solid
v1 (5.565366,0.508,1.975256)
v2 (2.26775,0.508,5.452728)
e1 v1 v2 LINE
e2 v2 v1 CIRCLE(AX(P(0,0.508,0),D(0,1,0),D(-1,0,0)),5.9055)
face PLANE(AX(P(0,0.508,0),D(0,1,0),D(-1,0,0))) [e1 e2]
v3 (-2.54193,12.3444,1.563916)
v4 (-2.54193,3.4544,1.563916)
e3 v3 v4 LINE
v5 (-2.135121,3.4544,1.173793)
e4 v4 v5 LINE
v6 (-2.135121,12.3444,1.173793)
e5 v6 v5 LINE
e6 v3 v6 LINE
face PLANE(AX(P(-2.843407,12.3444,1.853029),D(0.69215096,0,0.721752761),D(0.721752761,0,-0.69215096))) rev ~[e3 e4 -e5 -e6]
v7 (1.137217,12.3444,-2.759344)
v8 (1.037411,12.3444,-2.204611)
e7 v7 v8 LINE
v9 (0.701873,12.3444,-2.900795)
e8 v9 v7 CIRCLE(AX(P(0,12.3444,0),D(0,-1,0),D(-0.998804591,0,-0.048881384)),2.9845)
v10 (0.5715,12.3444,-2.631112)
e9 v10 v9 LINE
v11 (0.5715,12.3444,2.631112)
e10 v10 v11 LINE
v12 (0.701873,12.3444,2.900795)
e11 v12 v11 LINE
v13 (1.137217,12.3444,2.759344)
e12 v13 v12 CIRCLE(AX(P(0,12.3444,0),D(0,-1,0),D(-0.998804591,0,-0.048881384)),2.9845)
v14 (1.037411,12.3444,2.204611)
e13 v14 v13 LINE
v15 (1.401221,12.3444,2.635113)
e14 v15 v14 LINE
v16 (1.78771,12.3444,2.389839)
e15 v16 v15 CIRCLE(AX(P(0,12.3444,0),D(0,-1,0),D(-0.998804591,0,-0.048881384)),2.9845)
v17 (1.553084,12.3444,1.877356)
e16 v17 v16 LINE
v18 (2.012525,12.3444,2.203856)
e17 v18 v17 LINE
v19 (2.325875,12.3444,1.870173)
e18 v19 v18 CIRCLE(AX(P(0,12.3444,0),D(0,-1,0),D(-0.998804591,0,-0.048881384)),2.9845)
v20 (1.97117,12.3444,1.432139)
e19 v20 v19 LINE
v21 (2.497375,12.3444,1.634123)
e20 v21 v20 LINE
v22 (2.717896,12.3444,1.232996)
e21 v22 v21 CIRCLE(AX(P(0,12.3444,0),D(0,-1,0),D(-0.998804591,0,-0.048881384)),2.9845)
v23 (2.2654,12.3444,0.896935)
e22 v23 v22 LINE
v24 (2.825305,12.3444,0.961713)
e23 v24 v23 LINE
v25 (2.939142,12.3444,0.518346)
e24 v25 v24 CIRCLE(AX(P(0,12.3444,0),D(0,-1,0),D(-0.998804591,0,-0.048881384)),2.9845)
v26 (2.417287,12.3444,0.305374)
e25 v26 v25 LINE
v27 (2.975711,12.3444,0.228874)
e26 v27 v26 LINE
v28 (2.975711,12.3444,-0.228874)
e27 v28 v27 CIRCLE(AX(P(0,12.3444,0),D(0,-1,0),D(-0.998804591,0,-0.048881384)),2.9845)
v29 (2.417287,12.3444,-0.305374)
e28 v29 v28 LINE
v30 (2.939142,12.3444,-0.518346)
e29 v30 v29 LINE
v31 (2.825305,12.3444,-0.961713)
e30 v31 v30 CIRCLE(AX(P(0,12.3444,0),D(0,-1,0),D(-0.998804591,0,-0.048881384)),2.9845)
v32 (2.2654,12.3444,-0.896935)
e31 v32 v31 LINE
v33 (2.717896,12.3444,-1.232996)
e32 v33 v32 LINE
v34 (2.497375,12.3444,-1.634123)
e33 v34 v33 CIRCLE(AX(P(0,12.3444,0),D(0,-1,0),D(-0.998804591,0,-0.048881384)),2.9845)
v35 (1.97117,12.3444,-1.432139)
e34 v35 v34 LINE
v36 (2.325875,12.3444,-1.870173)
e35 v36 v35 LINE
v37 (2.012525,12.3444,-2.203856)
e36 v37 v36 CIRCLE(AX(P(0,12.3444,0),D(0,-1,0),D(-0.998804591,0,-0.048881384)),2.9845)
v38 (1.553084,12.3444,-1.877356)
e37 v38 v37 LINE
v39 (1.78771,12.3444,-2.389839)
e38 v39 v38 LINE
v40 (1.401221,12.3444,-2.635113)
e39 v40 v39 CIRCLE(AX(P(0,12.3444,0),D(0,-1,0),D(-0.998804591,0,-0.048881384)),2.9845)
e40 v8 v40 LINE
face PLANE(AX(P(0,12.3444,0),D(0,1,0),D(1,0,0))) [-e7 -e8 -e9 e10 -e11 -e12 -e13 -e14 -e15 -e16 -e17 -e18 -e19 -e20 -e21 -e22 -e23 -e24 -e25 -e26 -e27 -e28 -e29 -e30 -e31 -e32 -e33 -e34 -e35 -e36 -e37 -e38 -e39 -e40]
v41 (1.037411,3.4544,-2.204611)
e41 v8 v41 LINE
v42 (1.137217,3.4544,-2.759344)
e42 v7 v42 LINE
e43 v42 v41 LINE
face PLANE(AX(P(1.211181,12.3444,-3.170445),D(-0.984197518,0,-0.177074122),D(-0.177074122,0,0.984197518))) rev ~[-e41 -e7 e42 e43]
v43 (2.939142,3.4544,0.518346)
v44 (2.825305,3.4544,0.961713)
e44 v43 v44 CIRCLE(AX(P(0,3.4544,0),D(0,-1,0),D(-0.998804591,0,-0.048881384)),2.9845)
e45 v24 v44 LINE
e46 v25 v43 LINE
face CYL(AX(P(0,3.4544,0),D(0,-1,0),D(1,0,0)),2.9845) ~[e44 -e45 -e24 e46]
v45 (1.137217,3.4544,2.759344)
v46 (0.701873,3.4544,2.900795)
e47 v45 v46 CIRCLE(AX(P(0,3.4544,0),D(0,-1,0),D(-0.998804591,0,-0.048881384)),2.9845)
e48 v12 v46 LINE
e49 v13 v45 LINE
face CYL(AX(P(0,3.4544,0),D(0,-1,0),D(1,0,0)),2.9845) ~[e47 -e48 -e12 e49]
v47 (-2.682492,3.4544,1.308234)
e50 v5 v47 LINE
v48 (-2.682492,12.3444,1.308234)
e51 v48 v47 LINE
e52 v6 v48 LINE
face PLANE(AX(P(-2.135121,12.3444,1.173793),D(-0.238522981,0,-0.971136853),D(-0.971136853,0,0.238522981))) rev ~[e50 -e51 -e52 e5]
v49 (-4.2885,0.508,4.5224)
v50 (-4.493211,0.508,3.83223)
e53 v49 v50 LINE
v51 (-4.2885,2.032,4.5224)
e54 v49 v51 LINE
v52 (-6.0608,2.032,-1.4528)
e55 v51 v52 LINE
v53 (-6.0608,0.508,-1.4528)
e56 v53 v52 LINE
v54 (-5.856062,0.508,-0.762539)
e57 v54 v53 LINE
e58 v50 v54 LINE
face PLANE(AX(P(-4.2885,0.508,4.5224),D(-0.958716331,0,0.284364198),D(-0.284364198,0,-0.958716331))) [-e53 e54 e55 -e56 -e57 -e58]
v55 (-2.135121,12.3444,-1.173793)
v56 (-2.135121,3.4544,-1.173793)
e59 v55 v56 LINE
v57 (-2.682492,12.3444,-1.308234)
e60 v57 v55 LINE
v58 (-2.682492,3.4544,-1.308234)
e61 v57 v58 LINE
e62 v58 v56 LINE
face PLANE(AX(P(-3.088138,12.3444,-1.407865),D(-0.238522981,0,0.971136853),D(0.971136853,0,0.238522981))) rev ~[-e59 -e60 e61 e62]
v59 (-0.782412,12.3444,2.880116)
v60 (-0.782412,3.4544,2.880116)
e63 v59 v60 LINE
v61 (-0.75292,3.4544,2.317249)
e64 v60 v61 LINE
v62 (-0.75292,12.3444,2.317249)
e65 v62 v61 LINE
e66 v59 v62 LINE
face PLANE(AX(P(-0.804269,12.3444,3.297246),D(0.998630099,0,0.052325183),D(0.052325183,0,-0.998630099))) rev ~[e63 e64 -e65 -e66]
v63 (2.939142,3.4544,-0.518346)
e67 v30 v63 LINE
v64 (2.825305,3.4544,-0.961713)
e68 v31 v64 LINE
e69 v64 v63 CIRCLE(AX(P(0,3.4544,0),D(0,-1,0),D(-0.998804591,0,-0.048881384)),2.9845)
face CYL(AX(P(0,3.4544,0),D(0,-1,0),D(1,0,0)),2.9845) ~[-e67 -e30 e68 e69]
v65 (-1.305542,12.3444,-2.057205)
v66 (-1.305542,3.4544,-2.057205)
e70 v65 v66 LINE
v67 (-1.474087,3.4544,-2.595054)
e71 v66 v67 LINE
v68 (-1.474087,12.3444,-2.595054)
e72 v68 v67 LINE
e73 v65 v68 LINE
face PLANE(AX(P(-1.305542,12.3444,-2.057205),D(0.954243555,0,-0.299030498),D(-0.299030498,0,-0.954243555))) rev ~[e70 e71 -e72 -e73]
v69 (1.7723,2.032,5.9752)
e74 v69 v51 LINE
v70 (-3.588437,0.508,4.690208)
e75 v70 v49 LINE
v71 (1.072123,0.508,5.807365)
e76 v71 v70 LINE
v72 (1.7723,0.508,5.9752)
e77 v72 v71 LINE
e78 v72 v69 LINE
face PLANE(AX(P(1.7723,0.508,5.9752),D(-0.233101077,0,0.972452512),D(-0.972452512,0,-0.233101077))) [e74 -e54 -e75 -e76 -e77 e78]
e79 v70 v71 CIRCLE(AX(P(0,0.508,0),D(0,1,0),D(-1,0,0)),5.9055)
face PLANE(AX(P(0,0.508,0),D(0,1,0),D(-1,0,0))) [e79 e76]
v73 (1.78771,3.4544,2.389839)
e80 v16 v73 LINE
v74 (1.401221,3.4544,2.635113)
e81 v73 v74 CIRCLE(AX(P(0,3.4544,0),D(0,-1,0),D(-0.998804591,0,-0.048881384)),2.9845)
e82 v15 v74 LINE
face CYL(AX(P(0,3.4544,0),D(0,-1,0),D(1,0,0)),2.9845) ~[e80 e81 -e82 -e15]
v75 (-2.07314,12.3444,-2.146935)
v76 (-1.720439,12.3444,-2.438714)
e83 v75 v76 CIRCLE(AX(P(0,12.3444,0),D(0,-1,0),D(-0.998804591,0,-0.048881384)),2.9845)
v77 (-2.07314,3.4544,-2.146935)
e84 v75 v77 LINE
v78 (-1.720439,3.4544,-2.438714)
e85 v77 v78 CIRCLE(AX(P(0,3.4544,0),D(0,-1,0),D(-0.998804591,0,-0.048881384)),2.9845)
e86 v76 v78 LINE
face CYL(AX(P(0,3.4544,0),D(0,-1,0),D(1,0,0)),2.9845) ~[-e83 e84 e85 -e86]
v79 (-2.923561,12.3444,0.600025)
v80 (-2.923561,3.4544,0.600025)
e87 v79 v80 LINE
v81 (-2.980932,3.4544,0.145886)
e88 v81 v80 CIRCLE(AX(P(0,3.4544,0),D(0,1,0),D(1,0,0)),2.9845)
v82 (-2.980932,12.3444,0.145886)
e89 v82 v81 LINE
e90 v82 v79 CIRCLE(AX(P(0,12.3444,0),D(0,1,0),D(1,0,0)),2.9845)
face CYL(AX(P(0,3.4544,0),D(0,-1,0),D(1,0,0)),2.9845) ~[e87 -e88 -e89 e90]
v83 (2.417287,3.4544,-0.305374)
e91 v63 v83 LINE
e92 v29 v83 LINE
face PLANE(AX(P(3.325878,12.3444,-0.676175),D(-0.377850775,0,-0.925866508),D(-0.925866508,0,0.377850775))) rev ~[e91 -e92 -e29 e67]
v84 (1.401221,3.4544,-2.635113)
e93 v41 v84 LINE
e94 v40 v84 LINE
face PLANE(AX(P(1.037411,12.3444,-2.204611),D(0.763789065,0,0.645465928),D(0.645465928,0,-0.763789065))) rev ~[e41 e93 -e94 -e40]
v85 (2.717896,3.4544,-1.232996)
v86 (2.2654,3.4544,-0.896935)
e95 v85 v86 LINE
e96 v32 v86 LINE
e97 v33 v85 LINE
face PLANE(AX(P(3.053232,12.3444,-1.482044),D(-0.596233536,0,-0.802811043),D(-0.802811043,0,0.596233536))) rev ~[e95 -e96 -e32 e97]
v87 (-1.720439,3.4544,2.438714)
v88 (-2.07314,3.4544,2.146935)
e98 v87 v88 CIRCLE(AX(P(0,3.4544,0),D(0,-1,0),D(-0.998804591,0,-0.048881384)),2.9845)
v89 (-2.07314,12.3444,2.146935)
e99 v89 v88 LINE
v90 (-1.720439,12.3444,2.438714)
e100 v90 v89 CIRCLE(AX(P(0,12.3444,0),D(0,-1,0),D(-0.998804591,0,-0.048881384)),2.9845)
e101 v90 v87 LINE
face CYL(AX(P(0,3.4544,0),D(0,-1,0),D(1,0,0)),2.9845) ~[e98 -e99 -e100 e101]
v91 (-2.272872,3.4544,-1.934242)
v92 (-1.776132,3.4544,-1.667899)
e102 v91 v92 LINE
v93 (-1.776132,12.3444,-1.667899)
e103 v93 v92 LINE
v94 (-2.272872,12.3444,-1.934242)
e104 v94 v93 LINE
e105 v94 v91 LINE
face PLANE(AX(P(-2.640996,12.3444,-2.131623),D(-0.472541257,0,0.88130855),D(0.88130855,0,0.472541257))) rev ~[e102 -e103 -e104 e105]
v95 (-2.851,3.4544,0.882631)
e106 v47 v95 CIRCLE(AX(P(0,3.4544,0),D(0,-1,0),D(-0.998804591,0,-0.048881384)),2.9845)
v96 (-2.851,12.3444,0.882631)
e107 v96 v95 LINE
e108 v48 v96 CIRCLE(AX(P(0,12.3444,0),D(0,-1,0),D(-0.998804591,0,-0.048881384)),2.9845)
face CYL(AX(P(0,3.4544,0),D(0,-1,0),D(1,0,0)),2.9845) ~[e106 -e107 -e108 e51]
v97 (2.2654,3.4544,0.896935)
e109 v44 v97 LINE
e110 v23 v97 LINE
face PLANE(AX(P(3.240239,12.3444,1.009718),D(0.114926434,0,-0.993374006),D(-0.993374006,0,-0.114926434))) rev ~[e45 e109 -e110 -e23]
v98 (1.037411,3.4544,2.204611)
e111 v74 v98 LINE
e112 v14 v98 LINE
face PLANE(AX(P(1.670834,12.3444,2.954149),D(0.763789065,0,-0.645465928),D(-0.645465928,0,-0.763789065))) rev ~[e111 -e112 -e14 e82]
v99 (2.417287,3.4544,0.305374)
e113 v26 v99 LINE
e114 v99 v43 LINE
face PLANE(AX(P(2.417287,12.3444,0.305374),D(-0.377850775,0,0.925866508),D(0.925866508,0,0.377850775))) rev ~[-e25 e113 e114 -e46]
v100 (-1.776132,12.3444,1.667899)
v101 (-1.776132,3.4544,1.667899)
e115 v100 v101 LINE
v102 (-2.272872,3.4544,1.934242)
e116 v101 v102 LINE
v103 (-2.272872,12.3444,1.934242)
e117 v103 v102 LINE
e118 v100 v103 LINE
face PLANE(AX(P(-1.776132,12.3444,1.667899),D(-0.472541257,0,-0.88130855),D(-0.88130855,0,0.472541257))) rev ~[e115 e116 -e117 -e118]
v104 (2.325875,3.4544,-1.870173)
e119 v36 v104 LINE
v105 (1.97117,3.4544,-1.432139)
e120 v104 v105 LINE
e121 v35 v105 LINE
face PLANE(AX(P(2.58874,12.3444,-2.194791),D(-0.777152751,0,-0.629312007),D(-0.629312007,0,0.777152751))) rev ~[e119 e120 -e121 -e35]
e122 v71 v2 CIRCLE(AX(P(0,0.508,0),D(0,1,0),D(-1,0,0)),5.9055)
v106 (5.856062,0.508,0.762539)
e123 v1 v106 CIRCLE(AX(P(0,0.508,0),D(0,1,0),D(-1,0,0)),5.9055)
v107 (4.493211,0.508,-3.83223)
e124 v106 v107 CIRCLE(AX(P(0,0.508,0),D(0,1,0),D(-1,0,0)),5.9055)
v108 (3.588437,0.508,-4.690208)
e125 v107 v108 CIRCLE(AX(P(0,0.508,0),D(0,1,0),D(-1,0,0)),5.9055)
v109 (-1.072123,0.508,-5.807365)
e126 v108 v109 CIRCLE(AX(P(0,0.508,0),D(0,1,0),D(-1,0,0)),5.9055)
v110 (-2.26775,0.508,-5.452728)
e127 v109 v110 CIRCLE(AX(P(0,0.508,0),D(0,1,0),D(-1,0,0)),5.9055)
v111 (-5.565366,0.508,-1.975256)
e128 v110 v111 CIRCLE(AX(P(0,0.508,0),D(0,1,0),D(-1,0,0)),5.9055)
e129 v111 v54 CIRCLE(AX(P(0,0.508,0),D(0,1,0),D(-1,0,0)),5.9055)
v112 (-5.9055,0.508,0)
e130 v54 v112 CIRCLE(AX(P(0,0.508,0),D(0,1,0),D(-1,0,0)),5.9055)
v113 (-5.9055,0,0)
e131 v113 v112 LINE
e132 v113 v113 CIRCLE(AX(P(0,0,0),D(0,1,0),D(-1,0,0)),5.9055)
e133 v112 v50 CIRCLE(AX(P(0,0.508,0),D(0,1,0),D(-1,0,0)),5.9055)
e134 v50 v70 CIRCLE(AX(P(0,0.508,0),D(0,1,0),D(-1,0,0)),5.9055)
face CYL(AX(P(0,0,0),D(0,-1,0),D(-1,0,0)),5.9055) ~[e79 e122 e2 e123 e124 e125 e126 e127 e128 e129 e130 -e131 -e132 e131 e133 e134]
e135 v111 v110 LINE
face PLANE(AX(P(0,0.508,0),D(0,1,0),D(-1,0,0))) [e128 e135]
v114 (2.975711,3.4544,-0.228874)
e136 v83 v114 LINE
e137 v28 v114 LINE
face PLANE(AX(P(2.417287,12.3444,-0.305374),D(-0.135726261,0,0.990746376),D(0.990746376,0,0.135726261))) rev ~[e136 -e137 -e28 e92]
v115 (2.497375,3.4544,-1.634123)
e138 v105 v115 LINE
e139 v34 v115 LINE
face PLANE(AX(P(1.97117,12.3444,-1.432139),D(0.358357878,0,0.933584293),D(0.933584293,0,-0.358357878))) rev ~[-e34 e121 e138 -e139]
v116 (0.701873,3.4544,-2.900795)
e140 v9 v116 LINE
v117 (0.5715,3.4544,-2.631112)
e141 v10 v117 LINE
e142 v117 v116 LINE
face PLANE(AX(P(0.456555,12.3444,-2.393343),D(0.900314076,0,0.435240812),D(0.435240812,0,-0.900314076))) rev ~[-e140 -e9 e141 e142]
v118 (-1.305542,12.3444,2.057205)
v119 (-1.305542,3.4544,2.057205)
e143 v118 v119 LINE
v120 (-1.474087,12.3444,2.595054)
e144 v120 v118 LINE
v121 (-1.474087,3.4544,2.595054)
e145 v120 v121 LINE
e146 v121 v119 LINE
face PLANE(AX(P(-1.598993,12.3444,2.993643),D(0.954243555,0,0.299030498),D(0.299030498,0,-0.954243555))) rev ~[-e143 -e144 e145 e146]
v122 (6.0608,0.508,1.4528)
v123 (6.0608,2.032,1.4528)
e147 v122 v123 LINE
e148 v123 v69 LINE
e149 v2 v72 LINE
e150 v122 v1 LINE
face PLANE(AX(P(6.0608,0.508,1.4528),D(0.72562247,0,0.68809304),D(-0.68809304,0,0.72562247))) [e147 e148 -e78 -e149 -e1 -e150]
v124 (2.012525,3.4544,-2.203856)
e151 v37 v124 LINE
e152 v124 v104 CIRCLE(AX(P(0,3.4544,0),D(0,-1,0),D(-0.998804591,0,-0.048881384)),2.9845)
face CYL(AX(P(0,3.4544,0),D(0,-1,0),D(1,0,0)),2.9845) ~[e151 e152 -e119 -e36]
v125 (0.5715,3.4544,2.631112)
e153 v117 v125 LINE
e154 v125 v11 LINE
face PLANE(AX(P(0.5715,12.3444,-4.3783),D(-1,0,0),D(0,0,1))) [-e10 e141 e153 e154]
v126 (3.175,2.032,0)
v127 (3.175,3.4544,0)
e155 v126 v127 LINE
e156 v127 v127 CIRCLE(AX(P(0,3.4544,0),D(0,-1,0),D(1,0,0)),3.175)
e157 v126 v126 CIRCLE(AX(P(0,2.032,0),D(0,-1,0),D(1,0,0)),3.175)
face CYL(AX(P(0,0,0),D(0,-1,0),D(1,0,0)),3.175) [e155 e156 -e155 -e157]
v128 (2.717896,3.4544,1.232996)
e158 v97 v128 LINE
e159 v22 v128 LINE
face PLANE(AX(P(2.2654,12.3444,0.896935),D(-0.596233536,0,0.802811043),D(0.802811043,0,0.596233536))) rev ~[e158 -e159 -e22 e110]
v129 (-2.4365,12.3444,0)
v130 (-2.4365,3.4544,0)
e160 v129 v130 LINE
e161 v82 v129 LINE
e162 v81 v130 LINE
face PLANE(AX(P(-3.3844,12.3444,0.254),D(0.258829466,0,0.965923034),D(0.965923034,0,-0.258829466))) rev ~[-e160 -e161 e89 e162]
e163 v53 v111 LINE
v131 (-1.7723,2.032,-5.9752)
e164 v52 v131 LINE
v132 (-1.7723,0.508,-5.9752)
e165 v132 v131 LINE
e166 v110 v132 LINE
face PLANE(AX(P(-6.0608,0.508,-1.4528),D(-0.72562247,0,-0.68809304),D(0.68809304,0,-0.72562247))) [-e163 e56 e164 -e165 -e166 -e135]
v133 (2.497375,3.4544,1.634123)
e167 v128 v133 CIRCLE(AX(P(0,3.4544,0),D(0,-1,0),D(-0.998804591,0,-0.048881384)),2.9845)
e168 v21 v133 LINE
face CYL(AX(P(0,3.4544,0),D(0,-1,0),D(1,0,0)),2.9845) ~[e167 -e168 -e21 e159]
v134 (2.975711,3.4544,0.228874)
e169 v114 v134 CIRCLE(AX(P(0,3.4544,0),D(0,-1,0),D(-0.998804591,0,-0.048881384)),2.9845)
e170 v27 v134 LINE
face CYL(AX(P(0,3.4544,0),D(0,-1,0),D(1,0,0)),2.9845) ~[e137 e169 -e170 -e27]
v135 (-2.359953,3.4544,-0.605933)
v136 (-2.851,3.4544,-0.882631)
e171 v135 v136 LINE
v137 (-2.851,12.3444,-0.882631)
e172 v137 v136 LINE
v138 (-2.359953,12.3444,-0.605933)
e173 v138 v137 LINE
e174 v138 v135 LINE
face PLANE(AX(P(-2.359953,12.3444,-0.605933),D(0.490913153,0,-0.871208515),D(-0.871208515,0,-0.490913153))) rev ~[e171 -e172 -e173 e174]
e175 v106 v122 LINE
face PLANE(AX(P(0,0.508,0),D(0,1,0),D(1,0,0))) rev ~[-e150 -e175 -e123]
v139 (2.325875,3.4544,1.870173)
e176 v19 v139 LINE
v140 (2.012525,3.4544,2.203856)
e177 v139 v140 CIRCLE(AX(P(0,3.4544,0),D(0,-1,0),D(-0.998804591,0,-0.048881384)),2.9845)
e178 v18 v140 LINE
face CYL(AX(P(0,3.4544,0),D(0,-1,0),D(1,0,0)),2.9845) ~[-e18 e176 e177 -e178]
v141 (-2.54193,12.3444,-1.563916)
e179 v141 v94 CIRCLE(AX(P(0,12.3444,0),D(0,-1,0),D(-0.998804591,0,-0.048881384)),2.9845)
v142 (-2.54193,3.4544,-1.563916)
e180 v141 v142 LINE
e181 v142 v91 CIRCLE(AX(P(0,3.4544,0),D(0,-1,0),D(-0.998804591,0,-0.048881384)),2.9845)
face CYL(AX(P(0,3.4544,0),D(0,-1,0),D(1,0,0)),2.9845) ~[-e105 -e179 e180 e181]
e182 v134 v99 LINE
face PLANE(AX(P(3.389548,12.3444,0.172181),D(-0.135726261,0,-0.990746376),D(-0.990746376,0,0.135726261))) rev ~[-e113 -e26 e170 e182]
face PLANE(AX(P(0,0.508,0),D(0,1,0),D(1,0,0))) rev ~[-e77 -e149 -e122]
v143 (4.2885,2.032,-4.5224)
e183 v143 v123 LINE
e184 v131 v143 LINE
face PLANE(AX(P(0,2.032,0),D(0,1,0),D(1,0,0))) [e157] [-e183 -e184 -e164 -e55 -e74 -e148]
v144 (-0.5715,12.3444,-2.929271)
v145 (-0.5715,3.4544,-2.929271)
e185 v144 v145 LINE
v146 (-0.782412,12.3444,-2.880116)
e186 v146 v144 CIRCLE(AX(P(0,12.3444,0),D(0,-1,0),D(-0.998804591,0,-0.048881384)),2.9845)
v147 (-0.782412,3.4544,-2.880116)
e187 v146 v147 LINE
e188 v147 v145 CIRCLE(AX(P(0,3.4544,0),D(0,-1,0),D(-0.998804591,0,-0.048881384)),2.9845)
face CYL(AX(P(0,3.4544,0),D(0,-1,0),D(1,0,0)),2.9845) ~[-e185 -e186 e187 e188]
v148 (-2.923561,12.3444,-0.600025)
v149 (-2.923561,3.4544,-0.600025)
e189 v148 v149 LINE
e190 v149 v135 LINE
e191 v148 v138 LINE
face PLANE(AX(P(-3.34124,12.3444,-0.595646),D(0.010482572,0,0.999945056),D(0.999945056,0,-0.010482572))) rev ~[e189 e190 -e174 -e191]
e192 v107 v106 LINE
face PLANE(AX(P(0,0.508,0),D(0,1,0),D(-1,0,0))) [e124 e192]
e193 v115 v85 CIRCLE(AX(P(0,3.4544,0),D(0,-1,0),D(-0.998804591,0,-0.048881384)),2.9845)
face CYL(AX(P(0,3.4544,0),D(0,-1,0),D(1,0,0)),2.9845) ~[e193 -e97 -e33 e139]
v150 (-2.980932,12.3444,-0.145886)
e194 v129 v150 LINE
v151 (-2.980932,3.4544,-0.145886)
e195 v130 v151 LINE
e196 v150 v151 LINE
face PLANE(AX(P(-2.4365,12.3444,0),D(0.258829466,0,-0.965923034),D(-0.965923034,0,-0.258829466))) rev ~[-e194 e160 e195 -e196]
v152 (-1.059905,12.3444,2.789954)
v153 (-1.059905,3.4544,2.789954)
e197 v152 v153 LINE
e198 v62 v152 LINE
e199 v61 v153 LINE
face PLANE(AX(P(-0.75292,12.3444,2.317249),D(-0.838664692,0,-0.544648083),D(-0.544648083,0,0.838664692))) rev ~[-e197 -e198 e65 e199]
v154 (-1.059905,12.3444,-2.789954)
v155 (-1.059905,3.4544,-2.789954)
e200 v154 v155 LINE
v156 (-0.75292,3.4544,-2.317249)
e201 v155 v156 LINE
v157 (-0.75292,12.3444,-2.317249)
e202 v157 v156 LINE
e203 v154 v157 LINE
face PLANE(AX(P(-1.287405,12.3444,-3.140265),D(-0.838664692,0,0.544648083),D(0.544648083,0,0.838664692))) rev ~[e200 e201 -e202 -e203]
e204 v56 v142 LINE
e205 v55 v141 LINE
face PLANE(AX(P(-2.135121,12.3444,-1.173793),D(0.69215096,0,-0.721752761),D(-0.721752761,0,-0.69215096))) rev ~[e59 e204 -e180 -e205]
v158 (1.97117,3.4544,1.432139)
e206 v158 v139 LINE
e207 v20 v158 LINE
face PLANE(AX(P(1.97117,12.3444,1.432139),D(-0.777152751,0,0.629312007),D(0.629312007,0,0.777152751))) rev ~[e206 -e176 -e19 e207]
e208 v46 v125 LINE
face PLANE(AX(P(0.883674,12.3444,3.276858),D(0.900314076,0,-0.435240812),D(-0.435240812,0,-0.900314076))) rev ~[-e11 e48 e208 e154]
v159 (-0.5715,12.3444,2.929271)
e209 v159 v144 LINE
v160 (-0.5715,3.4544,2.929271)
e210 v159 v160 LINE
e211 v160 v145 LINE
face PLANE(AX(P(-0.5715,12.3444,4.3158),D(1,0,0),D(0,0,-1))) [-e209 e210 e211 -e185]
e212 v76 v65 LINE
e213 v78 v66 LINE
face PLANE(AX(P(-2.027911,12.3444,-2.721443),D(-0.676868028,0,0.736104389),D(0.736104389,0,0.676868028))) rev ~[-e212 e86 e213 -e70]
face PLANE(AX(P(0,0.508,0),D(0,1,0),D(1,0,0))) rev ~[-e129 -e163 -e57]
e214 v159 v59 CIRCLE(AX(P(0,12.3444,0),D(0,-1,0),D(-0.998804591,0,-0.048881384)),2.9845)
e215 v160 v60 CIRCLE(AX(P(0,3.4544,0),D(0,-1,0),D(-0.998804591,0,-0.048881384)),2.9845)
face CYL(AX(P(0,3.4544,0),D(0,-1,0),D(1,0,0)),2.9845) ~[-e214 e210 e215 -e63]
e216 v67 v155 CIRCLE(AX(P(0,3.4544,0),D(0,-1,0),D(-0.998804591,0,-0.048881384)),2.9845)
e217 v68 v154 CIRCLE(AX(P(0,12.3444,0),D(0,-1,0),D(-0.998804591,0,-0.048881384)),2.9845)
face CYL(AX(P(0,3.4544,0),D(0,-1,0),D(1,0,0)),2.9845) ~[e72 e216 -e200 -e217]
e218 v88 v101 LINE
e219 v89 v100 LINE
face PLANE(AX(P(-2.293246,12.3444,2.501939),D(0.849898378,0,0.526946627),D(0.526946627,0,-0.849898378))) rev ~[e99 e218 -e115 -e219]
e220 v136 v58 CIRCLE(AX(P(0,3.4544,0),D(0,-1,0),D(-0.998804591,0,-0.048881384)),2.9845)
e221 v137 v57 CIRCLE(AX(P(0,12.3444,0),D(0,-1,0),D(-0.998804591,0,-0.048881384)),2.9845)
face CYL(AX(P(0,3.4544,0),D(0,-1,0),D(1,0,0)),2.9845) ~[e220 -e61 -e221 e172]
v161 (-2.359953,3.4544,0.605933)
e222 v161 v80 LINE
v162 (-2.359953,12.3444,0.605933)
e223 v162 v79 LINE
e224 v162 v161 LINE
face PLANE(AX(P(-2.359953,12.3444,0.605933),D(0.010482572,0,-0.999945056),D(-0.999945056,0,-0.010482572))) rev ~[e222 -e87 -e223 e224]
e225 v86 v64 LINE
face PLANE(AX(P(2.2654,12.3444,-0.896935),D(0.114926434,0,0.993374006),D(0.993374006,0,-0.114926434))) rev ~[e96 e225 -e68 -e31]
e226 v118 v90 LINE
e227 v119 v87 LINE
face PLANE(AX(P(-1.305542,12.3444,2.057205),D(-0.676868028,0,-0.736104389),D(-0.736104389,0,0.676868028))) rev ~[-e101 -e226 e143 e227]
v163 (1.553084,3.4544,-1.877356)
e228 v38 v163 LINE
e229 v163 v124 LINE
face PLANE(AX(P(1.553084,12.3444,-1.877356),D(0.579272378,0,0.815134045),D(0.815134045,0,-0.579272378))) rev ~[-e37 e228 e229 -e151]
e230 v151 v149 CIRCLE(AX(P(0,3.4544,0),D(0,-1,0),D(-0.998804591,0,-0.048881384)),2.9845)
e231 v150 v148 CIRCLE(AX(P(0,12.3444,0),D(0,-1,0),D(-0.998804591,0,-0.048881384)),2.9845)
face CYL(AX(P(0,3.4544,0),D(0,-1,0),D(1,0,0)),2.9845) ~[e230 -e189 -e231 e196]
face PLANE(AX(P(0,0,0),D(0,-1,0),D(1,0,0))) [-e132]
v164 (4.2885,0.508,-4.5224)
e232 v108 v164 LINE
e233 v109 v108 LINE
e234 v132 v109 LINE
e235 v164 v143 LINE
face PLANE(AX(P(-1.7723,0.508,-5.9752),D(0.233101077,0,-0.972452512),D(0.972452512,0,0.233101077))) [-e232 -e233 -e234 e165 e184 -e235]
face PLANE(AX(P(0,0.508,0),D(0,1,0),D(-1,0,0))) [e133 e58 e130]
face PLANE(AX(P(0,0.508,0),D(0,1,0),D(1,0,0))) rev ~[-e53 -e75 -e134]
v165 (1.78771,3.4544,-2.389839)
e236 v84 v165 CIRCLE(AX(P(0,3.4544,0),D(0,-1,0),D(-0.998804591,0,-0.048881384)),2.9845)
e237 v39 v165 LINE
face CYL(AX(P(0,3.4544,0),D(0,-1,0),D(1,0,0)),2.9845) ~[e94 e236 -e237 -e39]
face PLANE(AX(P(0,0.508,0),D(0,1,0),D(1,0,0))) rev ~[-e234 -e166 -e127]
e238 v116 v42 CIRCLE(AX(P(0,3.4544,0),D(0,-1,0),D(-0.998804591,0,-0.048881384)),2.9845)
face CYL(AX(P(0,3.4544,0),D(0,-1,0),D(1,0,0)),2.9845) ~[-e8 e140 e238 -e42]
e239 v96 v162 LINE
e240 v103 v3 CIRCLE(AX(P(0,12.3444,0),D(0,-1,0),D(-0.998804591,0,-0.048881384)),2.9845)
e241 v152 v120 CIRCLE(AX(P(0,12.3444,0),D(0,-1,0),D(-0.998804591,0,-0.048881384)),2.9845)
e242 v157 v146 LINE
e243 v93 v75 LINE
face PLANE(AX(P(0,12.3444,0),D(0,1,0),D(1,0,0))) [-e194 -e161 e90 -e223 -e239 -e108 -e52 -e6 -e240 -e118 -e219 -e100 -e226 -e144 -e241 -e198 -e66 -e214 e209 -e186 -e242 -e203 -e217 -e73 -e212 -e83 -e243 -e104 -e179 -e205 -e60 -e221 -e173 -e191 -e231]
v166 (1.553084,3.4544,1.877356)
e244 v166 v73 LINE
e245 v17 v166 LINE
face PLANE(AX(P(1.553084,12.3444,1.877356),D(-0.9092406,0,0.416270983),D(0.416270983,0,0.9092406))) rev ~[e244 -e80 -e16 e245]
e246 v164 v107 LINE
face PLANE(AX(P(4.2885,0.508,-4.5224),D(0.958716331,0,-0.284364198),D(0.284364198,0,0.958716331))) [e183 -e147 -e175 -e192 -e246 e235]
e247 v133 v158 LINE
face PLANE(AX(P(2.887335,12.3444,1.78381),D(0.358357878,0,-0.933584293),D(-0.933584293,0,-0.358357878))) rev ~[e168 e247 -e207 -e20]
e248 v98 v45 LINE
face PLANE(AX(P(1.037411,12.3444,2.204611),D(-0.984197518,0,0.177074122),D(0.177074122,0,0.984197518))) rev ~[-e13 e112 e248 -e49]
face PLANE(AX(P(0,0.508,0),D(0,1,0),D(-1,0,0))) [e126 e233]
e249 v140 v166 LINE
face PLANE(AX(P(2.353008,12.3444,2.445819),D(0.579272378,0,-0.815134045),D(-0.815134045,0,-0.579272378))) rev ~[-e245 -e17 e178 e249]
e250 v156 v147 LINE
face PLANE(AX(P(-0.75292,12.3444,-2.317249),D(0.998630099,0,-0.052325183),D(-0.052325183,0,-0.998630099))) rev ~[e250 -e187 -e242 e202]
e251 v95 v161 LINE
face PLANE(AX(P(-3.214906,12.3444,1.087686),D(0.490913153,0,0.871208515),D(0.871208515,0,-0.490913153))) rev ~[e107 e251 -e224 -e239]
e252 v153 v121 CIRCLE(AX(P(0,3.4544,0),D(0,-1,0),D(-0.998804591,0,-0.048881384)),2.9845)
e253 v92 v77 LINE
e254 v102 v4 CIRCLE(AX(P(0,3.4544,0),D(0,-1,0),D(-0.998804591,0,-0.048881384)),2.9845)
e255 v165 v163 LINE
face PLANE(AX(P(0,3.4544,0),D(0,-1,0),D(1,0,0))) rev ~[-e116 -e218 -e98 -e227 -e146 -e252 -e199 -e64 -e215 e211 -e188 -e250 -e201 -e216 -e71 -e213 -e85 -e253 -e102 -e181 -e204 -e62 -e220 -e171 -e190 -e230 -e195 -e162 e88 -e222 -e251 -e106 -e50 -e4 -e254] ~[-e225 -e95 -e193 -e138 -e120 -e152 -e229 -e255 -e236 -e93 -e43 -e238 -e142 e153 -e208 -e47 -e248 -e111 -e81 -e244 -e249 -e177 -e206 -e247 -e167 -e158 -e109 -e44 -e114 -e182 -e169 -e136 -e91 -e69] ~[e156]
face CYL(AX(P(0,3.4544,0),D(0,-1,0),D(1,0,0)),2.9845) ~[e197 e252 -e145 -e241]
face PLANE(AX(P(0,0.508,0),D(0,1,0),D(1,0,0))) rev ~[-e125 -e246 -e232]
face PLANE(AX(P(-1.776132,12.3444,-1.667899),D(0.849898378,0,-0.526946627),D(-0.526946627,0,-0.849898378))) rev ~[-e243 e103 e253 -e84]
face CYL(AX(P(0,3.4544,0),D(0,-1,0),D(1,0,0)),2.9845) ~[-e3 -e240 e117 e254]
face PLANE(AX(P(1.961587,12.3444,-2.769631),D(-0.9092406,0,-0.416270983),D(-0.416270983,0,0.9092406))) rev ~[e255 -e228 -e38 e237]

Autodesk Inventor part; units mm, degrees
ref_plane "YZ Plane" through (0, 0, 0) normal (1, 0, 0) x (0, 1, 0)
ref_plane "XZ Plane" through (0, 0, 0) normal (0, 1, 0) x (-1, 0, 0)
ref_plane "XY Plane" through (0, 0, 0) normal (0, 0, 1) x (1, 0, 0)
sketch "Sketch1" plane through (0, 0, 0) normal (0, 1, 0) x (-1, 0, 0)
  circle A0 centre (0, 0) radius 5.9055
  dimension "d0" = 11.811
extrude "Extrusion1" add sketch "Sketch1" along normal blind 0.508
sketch "Sketch2" plane through (0, 0.508, 0) normal (0, 1, 0) x (1, 0, 0)
  line L0 (-6.0608, 1.4528) -> (-1.7723, 5.9752)
  line L1 (-1.7723, 5.9752) -> (4.2885, 4.5224)
  line L2 (4.2885, 4.5224) -> (6.0608, -1.4528)
  line L3 (6.0608, -1.4528) -> (1.7723, -5.9752)
  line L4 (1.7723, -5.9752) -> (-4.2885, -4.5224)
  line L5 (-4.2885, -4.5224) -> (-6.0608, 1.4528)
  point P0 (0, 0)
  point P1 (0, 0)
  dimension "d3" = 10.795
extrude "Extrusion2" add sketch "Sketch2" along normal blind 1.524
sketch "Sketch3" plane through (0, 0, 0) normal (0, -1, 0) x (1, 0, 0)
  circle A0 centre (0, 0) radius 3.175
  dimension "d6" = 6.35
extrude "Extrusion3" add sketch "Sketch3" against normal blind 3.4544
sketch "Sketch4" plane through (0, 3.4544, 0) normal (0, 1, 0) x (1, 0, 0)
  circle A0 centre (0, 0) radius 2.9845
  dimension "d9" = 5.969
extrude "Extrusion4" add sketch "Sketch4" along normal blind 8.89
sketch "Sketch5" plane through (0, 12.3444, 0) normal (0, 1, 0) x (1, 0, 0)
  line L0 (-3.3844, -0.254) -> (-2.4365, 0)
  line L1 (-2.4365, 0) -> (-3.3844, 0.254)
  line L2 (-3.3844, 0.254) -> (-3.3844, -0.254)
  line L3 (0, 0) -> (-2.1237, 0)
  dimension "d12" = 30
  dimension "d13" = 0.508
  dimension "d14" = 0.254
extrude "Extrusion5" cut sketch "Sketch5" against normal blind 8.89
pattern_circular "Circular Pattern2" count 25 over 360 about axis through (0, 3.4544, 0) along (0, 1, 0) of "Extrusion5"
sketch "Sketch6" plane through (0, 12.3444, 0) normal (0, 1, 0) x (1, 0, 0)
  line L0 (0.5715, -4.3158) -> (-0.5715, -4.3158)
  line L1 (-0.5715, -4.3158) -> (-0.5715, 4.3783)
  line L2 (-0.5715, 4.3783) -> (0.5715, 4.3783)
  line L3 (0.5715, 4.3783) -> (0.5715, -4.3158)
  point P0 (0, 0)
  dimension "d23" = 1.143
  dimension "d24" = 0.5715
extrude "Extrusion6" cut sketch "Sketch6" against normal blind 8.89
equation "\"d14\" = 0.5 * d13"
equation "\"d24\" = 0.5 * d23"
properties part number "Button_Knob" material "Stainless Steel"
